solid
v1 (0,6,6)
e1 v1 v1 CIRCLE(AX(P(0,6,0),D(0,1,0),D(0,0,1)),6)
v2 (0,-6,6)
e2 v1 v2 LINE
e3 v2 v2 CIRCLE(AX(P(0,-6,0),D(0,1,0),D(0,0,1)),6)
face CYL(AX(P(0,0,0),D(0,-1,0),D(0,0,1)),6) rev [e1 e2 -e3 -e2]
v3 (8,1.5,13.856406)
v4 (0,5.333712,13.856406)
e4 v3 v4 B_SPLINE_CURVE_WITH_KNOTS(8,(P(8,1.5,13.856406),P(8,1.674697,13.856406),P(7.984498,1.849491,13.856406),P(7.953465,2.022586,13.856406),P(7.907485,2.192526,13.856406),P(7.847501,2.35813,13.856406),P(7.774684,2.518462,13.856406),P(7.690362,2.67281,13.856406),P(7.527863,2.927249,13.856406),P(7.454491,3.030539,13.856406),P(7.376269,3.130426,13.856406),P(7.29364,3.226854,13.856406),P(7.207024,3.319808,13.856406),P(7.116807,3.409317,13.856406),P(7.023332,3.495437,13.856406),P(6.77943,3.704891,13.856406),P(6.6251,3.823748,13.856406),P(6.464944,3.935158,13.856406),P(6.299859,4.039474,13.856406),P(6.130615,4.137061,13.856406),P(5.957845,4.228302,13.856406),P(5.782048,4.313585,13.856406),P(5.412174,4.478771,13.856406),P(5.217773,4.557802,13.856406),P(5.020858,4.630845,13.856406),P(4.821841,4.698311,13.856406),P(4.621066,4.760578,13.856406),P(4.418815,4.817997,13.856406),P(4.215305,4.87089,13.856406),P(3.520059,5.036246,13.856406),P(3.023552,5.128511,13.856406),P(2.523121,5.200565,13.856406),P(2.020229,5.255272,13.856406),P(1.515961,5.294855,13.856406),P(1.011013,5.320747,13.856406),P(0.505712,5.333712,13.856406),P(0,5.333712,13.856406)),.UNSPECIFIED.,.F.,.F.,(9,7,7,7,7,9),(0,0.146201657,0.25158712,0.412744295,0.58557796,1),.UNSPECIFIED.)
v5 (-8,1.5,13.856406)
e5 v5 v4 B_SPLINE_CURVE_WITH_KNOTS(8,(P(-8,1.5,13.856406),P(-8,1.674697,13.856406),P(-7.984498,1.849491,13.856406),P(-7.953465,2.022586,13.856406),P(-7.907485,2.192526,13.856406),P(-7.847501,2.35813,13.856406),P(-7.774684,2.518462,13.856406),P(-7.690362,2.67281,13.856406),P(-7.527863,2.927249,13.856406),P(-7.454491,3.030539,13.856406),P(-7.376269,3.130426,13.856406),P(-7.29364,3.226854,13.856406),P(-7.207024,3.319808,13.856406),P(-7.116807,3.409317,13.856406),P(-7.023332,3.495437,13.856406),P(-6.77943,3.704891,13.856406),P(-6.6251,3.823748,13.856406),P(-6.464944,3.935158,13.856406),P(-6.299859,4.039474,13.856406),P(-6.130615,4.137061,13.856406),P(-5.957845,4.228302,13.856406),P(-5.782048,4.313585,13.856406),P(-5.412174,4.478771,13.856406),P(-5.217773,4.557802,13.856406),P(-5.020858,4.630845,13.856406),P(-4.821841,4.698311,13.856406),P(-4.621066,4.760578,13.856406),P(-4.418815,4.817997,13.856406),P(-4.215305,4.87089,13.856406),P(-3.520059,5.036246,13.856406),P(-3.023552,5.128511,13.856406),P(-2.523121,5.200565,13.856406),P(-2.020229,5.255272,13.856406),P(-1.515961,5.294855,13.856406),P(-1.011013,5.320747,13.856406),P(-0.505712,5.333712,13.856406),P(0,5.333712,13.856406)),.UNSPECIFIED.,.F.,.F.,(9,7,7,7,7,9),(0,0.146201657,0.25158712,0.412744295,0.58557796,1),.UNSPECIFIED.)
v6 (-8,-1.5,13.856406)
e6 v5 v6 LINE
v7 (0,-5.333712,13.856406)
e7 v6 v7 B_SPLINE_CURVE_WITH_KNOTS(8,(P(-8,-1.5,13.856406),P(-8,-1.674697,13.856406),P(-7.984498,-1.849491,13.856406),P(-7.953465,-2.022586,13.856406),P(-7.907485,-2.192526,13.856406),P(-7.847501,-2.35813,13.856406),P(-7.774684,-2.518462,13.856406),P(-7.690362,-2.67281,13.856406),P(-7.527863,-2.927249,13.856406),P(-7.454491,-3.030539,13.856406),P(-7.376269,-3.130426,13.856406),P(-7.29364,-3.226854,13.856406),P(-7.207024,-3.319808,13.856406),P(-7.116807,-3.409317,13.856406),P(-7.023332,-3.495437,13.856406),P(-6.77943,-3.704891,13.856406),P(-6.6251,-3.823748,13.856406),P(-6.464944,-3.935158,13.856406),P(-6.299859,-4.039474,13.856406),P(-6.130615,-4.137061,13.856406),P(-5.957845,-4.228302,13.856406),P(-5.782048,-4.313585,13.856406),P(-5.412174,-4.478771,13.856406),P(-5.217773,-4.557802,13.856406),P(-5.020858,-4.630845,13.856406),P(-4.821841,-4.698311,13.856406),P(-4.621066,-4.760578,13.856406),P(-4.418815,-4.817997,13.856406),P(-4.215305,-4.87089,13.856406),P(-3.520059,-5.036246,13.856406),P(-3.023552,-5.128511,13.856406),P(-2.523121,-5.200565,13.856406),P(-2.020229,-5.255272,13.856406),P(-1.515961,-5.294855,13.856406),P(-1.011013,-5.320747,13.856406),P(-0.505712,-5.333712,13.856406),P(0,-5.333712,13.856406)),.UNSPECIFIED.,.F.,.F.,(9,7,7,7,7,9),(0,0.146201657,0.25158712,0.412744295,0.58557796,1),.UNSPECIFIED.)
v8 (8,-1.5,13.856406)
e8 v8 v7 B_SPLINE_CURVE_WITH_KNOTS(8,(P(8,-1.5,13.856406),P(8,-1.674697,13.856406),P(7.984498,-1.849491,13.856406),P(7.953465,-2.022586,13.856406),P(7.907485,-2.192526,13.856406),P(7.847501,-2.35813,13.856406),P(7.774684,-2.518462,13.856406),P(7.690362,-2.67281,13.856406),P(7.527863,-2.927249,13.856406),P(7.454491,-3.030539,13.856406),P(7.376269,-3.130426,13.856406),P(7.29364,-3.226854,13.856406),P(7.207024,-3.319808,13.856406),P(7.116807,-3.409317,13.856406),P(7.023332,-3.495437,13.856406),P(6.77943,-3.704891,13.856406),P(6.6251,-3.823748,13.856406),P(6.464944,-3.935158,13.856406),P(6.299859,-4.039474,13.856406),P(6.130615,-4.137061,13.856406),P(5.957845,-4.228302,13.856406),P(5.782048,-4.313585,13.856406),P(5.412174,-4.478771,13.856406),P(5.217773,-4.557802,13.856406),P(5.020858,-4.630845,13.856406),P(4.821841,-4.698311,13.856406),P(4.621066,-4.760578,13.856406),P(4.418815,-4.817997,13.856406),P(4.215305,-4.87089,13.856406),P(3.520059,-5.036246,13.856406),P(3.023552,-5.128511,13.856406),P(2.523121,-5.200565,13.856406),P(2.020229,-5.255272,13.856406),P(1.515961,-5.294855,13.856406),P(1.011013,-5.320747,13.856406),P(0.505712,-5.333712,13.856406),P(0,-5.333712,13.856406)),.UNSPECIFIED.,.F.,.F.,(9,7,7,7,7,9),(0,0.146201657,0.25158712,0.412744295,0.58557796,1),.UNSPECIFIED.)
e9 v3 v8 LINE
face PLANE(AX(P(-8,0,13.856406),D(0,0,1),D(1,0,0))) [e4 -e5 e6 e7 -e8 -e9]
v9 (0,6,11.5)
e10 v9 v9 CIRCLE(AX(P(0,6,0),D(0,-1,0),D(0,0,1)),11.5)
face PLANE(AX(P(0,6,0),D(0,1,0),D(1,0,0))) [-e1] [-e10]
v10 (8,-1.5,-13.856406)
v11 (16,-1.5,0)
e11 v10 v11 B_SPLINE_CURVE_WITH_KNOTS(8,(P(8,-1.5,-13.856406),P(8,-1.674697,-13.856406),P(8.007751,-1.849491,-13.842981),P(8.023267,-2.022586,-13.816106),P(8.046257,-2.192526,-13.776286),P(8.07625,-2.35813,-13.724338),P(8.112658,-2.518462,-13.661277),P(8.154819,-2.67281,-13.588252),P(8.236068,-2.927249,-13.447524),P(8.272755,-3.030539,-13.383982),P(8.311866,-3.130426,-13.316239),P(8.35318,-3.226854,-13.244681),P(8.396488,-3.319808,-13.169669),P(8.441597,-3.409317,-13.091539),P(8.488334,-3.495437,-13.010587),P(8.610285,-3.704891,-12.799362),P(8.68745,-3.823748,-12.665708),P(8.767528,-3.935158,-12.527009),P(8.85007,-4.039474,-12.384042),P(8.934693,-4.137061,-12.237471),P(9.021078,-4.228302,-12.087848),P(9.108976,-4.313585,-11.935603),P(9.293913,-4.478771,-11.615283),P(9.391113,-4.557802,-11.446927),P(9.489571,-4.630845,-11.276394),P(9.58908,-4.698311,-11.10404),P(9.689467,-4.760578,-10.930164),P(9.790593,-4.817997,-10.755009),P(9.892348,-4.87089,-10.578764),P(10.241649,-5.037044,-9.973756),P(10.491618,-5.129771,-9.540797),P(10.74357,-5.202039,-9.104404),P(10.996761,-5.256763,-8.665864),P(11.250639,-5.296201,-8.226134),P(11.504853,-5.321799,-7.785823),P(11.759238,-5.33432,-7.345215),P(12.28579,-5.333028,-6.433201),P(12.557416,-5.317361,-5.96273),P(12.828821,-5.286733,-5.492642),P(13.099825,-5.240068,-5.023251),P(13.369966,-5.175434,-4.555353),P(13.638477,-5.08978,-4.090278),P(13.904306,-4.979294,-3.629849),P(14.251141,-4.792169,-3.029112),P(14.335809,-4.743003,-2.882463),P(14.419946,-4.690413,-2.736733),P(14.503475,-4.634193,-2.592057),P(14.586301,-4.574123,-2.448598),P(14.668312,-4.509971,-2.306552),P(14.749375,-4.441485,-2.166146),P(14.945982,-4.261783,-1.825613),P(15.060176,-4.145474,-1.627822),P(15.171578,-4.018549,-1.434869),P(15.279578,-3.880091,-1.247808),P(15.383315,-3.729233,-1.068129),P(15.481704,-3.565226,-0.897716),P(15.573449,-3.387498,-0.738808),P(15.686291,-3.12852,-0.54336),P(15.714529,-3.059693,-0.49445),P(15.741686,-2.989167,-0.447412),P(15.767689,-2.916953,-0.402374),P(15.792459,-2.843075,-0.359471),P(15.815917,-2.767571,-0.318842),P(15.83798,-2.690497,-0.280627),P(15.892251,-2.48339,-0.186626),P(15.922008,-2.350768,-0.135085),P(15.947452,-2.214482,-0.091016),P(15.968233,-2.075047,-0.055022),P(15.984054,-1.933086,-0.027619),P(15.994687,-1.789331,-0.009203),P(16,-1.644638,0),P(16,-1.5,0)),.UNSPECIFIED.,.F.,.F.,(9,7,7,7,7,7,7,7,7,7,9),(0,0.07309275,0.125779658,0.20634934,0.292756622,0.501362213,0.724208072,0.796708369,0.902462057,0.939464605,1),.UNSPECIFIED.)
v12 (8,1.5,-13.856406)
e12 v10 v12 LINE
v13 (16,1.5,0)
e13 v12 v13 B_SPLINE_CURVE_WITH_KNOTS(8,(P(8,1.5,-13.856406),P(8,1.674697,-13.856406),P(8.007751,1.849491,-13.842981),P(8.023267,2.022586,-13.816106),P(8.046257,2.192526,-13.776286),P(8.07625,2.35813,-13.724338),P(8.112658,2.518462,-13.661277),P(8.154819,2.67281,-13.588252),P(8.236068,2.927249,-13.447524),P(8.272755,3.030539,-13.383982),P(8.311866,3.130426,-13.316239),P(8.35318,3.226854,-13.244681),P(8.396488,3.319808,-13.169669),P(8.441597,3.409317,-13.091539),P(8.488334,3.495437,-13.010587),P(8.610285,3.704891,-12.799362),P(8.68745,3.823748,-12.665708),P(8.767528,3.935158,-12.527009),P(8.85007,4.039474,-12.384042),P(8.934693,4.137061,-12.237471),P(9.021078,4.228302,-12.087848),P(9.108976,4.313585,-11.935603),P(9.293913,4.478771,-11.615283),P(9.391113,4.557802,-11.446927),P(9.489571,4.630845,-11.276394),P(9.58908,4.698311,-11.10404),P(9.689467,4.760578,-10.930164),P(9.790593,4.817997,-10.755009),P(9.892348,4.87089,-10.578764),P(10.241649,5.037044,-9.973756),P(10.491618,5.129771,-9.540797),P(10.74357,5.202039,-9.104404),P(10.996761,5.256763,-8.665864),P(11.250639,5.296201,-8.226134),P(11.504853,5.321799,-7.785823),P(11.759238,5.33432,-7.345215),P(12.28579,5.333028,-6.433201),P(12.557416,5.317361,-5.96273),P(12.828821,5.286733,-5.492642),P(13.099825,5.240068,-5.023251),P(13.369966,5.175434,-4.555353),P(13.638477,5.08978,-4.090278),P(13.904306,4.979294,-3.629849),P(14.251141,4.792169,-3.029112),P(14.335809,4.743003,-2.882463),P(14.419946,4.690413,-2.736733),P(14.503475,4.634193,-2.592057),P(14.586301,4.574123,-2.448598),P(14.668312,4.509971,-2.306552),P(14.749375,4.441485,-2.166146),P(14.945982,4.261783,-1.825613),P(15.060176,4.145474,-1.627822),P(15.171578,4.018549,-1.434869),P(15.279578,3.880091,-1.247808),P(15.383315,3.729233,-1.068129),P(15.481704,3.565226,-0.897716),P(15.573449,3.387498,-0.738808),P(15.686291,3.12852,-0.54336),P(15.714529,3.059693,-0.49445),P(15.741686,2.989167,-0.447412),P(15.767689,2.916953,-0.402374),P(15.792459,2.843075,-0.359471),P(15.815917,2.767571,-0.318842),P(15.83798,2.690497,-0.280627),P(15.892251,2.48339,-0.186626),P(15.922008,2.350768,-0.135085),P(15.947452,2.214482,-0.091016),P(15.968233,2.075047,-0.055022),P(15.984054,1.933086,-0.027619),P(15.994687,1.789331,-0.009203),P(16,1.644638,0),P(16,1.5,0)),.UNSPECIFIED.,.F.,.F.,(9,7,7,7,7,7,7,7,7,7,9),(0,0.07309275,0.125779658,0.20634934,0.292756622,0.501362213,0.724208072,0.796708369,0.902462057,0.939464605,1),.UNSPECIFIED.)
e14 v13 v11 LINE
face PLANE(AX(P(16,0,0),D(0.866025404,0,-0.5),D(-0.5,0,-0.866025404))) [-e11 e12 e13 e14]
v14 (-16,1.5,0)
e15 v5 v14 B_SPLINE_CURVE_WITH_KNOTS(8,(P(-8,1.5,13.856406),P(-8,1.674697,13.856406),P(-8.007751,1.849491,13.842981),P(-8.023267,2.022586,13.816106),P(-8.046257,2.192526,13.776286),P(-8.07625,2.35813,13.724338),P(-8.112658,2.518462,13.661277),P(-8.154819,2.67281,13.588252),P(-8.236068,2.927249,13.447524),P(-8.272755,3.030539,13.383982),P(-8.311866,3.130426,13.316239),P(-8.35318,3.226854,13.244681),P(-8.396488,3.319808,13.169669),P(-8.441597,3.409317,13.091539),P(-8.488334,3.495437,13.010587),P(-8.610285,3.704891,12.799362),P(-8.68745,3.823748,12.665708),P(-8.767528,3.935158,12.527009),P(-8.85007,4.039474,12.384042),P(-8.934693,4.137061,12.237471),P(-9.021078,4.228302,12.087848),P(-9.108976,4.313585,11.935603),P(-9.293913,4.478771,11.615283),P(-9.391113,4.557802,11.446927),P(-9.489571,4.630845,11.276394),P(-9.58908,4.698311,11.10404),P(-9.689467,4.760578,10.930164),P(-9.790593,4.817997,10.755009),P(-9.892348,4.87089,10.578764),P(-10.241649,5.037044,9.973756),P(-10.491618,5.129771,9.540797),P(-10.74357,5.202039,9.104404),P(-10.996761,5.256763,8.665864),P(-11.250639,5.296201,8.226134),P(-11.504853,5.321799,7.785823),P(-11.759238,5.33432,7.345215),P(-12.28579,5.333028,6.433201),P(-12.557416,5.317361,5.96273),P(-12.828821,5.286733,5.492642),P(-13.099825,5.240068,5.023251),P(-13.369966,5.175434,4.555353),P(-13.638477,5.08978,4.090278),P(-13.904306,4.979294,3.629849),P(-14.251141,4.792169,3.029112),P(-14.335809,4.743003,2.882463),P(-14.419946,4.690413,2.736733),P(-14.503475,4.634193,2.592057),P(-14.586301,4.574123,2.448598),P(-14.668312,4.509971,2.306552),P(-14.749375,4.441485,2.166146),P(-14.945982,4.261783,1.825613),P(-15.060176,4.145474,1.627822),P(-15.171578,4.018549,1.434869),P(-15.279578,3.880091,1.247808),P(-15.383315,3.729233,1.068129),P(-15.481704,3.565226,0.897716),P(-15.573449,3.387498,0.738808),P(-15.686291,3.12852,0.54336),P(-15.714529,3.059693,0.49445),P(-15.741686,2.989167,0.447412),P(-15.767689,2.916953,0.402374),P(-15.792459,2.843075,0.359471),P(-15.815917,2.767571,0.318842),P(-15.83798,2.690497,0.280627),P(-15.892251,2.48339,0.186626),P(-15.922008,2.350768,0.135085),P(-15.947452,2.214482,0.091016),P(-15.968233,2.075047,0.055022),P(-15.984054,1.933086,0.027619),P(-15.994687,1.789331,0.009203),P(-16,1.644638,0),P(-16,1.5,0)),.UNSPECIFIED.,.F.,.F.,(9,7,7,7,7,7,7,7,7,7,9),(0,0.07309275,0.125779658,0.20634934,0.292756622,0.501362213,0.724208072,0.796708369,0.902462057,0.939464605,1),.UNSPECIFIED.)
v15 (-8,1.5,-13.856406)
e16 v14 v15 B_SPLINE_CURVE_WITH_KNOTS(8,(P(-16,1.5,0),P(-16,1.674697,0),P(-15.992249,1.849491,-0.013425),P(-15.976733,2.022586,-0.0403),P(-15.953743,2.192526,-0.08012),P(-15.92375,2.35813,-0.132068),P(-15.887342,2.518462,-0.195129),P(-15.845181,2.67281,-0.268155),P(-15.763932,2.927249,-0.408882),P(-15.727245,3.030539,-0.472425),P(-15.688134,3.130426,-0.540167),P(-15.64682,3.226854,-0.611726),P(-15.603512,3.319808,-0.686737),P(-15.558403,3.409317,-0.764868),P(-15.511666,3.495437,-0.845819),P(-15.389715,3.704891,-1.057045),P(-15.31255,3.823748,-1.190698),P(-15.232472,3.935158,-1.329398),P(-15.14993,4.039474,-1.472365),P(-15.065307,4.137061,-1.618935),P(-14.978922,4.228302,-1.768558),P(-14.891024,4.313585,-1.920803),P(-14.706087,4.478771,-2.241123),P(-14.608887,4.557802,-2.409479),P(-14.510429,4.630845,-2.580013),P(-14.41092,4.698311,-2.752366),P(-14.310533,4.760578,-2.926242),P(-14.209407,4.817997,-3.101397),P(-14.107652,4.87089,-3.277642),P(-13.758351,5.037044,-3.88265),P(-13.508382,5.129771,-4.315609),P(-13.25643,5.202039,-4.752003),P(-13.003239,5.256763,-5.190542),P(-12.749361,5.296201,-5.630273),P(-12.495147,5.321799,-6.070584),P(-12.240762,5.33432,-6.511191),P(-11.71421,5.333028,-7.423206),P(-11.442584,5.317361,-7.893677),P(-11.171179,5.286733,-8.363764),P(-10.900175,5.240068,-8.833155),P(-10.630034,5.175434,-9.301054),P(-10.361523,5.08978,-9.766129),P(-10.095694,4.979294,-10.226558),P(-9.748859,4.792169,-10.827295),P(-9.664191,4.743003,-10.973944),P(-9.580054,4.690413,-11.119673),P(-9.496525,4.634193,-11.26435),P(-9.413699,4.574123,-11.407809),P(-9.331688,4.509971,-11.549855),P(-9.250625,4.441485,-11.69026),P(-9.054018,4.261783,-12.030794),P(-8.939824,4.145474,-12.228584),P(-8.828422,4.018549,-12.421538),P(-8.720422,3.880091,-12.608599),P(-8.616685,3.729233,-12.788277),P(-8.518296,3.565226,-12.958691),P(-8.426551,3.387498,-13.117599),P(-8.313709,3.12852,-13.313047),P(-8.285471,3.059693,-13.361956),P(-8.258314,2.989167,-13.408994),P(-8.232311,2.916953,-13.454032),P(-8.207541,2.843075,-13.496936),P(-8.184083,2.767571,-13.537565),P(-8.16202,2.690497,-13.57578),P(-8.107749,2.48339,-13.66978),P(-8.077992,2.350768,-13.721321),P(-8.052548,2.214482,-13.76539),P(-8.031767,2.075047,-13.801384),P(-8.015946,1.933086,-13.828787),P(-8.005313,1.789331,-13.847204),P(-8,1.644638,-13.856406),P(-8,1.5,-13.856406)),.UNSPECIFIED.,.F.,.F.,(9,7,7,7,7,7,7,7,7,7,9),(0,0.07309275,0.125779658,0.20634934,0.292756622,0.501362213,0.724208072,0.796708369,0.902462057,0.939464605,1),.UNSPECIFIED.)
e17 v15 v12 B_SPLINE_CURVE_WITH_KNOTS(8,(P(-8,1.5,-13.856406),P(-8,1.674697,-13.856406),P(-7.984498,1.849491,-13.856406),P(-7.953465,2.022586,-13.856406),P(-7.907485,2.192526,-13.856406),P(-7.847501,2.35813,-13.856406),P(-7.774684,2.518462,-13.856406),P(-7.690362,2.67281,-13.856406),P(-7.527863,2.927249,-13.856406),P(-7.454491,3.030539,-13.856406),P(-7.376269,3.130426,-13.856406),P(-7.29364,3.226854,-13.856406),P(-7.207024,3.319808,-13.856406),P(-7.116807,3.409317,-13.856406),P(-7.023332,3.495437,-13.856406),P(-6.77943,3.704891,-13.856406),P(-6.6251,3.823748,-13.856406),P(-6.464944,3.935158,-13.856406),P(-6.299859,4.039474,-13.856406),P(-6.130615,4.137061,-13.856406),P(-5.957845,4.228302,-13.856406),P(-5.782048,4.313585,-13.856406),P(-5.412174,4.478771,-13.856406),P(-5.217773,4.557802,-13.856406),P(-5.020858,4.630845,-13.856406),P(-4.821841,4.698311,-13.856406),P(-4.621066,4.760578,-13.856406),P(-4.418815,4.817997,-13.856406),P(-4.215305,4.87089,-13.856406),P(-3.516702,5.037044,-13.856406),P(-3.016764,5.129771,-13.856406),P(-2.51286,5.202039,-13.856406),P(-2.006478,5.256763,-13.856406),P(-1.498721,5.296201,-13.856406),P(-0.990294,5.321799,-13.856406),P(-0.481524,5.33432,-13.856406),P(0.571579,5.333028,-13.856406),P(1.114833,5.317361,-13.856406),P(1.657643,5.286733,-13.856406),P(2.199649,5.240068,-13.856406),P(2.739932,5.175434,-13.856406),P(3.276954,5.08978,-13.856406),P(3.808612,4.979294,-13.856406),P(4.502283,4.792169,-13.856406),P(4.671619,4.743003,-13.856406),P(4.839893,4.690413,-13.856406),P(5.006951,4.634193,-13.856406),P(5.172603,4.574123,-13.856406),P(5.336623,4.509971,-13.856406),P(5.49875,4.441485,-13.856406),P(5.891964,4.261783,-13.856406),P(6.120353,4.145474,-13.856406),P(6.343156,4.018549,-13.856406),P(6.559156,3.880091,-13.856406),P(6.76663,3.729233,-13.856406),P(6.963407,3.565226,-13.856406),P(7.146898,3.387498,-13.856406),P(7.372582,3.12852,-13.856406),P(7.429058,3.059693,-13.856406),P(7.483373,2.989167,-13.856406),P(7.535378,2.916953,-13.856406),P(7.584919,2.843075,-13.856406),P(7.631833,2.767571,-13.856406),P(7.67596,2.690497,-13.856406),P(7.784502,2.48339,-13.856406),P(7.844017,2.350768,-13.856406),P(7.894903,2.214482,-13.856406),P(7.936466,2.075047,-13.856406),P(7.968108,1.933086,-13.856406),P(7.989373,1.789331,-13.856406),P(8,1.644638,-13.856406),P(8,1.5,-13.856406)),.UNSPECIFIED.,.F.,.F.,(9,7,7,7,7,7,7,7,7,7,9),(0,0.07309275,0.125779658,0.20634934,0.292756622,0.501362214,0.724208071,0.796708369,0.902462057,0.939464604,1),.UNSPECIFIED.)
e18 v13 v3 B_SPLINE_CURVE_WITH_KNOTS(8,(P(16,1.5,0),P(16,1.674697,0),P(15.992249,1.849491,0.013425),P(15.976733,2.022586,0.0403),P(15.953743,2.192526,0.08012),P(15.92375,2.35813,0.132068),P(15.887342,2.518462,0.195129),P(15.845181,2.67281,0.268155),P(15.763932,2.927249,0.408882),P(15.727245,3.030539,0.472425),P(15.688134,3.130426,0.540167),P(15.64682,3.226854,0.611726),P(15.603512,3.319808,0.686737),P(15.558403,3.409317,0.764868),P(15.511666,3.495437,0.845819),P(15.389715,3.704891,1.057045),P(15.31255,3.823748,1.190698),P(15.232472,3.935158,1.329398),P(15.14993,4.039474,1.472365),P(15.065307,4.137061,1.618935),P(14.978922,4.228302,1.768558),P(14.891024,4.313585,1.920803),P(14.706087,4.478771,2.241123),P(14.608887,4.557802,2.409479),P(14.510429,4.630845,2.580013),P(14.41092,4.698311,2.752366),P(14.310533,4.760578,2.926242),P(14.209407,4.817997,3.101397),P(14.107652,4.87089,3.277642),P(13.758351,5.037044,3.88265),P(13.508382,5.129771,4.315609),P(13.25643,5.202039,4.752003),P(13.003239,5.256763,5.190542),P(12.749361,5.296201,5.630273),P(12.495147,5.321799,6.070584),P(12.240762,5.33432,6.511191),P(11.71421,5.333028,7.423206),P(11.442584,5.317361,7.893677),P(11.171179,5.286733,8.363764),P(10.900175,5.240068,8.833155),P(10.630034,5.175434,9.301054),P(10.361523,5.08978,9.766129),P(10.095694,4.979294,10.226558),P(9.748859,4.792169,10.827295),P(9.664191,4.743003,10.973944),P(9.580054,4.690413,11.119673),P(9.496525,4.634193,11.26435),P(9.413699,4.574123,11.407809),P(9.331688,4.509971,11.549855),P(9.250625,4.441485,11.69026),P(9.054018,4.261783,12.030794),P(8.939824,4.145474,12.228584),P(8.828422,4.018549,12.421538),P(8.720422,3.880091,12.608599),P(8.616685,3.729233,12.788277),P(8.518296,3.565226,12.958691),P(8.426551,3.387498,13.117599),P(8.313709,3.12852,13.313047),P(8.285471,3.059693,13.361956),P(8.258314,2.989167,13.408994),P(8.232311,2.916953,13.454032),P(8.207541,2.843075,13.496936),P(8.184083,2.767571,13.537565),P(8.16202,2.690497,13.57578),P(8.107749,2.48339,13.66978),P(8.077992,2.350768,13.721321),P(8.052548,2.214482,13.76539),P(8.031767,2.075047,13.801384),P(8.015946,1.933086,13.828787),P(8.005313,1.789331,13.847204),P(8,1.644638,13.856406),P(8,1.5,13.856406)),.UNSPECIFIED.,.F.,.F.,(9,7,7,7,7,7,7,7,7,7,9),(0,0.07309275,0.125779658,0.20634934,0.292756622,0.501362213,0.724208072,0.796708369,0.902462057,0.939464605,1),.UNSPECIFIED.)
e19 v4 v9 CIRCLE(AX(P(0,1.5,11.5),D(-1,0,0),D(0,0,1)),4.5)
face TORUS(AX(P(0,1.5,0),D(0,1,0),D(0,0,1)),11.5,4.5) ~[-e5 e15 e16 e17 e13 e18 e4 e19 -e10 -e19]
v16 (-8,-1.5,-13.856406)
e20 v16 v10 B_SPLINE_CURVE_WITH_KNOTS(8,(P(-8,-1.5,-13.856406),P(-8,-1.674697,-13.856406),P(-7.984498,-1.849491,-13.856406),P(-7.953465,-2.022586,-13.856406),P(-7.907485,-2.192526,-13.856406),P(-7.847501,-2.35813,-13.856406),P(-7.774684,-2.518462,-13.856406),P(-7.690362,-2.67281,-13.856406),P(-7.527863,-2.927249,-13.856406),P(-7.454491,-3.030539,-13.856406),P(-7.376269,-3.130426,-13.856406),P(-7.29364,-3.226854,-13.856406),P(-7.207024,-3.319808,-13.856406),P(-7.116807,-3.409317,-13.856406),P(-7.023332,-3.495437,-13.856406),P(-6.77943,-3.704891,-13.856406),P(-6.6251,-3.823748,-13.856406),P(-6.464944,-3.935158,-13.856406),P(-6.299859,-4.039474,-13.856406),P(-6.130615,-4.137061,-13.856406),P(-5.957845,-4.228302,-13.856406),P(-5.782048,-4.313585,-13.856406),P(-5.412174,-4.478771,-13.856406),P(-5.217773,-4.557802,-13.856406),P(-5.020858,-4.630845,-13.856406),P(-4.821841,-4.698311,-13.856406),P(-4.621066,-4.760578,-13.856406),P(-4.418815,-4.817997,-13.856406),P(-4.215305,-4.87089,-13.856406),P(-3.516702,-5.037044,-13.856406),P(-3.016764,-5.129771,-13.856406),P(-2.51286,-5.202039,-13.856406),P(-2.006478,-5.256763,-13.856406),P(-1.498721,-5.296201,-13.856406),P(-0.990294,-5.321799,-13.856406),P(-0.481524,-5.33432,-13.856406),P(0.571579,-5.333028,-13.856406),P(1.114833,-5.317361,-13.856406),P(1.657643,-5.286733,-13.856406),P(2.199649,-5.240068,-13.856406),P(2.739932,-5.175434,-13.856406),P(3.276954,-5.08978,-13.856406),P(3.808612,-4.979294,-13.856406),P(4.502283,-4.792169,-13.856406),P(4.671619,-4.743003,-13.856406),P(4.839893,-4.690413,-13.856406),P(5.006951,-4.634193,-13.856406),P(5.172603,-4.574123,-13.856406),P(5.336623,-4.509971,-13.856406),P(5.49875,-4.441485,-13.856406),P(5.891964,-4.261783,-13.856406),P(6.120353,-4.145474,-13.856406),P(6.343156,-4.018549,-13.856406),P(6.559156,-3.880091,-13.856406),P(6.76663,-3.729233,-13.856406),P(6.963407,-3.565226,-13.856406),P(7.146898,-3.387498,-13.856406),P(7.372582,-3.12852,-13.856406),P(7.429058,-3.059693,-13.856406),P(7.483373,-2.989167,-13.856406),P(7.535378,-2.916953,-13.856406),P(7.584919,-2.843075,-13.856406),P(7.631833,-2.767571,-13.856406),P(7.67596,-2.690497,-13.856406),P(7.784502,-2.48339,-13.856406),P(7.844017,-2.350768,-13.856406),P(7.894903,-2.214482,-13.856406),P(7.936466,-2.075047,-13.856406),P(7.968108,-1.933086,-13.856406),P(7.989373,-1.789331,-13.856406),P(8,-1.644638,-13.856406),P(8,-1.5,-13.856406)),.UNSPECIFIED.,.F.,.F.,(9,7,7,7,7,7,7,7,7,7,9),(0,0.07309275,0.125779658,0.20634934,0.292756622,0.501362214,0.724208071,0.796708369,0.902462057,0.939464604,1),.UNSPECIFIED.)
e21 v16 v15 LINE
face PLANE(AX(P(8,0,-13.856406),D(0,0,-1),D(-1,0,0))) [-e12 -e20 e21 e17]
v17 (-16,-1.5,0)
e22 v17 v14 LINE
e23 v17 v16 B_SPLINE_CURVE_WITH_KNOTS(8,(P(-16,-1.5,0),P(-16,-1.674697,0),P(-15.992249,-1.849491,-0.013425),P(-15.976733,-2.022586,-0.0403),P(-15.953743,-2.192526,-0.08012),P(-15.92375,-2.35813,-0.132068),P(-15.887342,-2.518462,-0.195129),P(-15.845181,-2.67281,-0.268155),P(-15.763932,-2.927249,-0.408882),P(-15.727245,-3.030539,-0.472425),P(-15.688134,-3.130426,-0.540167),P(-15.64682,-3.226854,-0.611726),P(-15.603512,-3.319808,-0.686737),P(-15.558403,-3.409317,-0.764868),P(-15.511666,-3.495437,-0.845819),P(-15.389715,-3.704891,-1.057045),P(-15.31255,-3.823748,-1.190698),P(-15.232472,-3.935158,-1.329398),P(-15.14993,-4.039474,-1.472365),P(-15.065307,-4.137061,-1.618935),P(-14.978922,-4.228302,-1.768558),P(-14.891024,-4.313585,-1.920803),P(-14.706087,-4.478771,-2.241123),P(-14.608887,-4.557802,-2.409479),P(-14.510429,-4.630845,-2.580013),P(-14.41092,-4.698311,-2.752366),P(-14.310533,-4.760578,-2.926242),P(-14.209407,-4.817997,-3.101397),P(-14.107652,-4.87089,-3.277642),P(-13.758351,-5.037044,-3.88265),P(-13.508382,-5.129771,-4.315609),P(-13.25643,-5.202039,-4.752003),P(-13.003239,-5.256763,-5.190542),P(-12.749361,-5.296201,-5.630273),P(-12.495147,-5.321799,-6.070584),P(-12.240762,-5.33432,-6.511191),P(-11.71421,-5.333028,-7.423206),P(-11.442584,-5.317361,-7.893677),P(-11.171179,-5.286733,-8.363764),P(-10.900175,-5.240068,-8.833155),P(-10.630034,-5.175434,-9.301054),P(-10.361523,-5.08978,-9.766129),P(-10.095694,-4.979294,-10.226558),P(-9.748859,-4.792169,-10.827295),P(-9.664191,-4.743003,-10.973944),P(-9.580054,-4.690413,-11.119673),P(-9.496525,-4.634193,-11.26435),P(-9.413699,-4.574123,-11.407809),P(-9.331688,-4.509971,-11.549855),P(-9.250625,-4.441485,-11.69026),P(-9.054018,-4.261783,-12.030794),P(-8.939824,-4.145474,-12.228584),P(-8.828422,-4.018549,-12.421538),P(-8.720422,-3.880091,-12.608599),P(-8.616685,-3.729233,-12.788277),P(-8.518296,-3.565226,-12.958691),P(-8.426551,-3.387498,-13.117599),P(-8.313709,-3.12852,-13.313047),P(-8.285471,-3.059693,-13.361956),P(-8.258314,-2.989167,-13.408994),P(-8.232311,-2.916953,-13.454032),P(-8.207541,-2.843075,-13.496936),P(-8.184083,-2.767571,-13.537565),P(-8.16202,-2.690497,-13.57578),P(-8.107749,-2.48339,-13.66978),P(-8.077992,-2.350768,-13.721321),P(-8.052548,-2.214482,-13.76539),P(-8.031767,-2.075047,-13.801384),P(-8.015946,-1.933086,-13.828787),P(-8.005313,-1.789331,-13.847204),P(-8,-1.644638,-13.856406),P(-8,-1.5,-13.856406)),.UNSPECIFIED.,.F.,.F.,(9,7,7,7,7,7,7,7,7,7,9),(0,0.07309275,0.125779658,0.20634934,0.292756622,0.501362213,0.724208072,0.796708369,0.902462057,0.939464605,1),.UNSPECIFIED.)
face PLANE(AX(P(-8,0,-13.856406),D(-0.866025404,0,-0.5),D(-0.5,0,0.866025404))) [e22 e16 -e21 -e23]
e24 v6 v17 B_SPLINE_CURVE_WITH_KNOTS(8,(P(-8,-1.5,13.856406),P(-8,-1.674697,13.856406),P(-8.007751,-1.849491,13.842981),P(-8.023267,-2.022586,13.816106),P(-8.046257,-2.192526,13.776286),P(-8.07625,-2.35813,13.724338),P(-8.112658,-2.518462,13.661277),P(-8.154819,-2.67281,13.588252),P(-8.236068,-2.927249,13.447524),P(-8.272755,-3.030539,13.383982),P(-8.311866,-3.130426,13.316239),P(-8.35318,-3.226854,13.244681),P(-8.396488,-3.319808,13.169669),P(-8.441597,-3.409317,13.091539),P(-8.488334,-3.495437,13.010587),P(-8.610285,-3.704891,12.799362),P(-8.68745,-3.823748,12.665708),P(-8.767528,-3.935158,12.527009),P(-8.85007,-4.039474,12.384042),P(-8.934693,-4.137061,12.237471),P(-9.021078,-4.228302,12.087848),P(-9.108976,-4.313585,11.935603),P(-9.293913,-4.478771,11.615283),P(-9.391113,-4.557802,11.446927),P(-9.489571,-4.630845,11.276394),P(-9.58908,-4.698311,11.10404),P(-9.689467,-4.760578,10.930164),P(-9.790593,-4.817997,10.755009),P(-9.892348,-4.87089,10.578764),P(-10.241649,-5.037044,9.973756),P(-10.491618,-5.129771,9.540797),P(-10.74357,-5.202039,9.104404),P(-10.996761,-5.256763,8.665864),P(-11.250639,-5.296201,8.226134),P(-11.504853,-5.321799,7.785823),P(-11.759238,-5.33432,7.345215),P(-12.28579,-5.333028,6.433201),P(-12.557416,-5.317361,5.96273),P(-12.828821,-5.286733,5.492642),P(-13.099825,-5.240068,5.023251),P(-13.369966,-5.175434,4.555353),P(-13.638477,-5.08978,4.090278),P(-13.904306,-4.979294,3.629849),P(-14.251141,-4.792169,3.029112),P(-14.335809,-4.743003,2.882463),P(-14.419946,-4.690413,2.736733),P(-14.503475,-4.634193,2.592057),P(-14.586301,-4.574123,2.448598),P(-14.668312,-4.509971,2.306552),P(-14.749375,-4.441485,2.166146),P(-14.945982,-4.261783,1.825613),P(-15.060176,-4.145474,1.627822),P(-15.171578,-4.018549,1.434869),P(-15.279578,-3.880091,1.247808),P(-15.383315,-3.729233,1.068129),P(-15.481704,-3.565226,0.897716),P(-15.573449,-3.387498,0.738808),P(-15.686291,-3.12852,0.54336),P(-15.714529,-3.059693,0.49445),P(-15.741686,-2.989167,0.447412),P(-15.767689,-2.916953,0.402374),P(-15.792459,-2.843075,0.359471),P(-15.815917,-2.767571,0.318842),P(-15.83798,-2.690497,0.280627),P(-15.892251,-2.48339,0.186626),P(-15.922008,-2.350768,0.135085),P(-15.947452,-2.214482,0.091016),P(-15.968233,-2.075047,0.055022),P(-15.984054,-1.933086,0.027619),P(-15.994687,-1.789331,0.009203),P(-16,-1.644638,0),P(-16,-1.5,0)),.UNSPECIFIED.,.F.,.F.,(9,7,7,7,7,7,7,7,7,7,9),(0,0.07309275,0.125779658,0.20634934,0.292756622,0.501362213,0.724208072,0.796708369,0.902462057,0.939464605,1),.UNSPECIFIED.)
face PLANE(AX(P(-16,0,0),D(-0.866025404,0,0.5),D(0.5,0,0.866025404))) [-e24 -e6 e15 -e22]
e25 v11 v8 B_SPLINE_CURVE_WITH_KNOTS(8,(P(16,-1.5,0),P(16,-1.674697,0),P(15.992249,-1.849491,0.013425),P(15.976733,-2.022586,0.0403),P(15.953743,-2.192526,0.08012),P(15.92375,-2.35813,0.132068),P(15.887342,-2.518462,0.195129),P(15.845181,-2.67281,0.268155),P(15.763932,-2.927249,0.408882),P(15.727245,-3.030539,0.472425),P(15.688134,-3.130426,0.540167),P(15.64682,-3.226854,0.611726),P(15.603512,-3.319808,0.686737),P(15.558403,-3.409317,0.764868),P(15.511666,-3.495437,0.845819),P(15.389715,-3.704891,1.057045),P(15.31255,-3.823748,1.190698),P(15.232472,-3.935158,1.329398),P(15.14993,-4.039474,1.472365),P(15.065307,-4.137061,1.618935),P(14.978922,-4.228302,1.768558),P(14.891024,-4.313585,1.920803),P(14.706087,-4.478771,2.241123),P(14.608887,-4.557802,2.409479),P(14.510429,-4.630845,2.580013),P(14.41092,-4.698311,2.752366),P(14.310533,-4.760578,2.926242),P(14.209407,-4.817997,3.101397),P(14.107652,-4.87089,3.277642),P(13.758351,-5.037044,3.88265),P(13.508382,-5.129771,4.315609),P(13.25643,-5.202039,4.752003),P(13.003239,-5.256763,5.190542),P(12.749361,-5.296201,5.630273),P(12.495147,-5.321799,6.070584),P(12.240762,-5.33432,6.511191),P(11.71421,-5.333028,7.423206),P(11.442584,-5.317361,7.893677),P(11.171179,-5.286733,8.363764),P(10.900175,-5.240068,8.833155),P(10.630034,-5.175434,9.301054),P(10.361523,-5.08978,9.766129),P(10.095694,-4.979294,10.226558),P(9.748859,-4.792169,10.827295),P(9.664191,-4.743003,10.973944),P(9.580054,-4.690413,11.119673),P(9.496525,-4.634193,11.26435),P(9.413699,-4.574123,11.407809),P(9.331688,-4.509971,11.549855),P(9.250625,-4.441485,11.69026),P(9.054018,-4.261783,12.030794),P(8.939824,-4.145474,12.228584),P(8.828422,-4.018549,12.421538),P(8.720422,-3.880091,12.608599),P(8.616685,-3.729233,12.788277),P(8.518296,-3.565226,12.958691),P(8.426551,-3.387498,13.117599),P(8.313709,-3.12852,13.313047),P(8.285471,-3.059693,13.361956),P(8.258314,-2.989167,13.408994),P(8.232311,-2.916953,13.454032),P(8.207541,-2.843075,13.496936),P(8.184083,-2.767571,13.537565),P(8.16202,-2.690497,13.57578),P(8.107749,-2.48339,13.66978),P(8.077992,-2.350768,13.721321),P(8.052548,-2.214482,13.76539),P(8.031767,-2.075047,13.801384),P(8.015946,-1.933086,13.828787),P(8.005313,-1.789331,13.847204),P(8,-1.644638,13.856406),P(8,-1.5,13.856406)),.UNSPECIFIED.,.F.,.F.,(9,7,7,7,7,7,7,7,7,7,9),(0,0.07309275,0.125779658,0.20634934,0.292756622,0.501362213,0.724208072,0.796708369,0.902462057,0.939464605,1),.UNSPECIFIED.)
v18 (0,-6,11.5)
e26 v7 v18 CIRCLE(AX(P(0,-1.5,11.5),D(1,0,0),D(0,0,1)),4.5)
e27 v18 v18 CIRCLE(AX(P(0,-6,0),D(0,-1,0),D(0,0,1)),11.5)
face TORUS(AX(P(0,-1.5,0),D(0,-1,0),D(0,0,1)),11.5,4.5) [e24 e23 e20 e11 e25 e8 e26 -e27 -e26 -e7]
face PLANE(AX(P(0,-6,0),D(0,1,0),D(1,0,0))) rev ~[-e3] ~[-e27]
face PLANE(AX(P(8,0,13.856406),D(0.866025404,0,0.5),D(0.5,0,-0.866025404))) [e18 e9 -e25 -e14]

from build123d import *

# Parameters (mm, degrees)
SKETCH1_R           = 6
BOSS_EXTRUDE1_DEPTH = 6


with BuildPart() as part:
    # Sketch1 → Boss-Extrude1 (new, symmetric)
    with BuildSketch(Plane(origin=(0, 0, 0), x_dir=(1, 0, 0), z_dir=(0, 1, 0))):
        Polygon((16, 0), (8, 13.856406461), (-8, 13.856406461), (-16, 0), (-8, -13.856406461), (8, -13.856406461), align=None)
        with Locations(Location((0, 0, 0), (0, 0, 270))):
            Circle(SKETCH1_R, mode=Mode.SUBTRACT)
    extrude(amount=BOSS_EXTRUDE1_DEPTH, both=True)

    # Sketch2 → Cut-Revolve2 (revolve, cut)
    with BuildSketch(Plane.XY, mode=Mode.PRIVATE) as cut_revolve2_sk:
        with BuildLine():
            Line((11.5, 6), (16, 6))
            Line((16, 6), (16, 1.5))
            ThreePointArc((16, 1.5), (14.681980515, 4.681980515), (11.5, 6))
        make_face()
        with BuildLine():
            Line((11.5, -6), (16, -6))
            Line((16, -6), (16, -1.5))
            ThreePointArc((16, -1.5), (14.681980515, -4.681980515), (11.5, -6))
        make_face()
    revolve(cut_revolve2_sk.sketch.rotate(Axis((0, 9.943732914, 0), (0, -1, 0)), 90), axis=Axis((0, 9.943732914, 0), (0, -1, 0)), mode=Mode.SUBTRACT)


solid = part.part
